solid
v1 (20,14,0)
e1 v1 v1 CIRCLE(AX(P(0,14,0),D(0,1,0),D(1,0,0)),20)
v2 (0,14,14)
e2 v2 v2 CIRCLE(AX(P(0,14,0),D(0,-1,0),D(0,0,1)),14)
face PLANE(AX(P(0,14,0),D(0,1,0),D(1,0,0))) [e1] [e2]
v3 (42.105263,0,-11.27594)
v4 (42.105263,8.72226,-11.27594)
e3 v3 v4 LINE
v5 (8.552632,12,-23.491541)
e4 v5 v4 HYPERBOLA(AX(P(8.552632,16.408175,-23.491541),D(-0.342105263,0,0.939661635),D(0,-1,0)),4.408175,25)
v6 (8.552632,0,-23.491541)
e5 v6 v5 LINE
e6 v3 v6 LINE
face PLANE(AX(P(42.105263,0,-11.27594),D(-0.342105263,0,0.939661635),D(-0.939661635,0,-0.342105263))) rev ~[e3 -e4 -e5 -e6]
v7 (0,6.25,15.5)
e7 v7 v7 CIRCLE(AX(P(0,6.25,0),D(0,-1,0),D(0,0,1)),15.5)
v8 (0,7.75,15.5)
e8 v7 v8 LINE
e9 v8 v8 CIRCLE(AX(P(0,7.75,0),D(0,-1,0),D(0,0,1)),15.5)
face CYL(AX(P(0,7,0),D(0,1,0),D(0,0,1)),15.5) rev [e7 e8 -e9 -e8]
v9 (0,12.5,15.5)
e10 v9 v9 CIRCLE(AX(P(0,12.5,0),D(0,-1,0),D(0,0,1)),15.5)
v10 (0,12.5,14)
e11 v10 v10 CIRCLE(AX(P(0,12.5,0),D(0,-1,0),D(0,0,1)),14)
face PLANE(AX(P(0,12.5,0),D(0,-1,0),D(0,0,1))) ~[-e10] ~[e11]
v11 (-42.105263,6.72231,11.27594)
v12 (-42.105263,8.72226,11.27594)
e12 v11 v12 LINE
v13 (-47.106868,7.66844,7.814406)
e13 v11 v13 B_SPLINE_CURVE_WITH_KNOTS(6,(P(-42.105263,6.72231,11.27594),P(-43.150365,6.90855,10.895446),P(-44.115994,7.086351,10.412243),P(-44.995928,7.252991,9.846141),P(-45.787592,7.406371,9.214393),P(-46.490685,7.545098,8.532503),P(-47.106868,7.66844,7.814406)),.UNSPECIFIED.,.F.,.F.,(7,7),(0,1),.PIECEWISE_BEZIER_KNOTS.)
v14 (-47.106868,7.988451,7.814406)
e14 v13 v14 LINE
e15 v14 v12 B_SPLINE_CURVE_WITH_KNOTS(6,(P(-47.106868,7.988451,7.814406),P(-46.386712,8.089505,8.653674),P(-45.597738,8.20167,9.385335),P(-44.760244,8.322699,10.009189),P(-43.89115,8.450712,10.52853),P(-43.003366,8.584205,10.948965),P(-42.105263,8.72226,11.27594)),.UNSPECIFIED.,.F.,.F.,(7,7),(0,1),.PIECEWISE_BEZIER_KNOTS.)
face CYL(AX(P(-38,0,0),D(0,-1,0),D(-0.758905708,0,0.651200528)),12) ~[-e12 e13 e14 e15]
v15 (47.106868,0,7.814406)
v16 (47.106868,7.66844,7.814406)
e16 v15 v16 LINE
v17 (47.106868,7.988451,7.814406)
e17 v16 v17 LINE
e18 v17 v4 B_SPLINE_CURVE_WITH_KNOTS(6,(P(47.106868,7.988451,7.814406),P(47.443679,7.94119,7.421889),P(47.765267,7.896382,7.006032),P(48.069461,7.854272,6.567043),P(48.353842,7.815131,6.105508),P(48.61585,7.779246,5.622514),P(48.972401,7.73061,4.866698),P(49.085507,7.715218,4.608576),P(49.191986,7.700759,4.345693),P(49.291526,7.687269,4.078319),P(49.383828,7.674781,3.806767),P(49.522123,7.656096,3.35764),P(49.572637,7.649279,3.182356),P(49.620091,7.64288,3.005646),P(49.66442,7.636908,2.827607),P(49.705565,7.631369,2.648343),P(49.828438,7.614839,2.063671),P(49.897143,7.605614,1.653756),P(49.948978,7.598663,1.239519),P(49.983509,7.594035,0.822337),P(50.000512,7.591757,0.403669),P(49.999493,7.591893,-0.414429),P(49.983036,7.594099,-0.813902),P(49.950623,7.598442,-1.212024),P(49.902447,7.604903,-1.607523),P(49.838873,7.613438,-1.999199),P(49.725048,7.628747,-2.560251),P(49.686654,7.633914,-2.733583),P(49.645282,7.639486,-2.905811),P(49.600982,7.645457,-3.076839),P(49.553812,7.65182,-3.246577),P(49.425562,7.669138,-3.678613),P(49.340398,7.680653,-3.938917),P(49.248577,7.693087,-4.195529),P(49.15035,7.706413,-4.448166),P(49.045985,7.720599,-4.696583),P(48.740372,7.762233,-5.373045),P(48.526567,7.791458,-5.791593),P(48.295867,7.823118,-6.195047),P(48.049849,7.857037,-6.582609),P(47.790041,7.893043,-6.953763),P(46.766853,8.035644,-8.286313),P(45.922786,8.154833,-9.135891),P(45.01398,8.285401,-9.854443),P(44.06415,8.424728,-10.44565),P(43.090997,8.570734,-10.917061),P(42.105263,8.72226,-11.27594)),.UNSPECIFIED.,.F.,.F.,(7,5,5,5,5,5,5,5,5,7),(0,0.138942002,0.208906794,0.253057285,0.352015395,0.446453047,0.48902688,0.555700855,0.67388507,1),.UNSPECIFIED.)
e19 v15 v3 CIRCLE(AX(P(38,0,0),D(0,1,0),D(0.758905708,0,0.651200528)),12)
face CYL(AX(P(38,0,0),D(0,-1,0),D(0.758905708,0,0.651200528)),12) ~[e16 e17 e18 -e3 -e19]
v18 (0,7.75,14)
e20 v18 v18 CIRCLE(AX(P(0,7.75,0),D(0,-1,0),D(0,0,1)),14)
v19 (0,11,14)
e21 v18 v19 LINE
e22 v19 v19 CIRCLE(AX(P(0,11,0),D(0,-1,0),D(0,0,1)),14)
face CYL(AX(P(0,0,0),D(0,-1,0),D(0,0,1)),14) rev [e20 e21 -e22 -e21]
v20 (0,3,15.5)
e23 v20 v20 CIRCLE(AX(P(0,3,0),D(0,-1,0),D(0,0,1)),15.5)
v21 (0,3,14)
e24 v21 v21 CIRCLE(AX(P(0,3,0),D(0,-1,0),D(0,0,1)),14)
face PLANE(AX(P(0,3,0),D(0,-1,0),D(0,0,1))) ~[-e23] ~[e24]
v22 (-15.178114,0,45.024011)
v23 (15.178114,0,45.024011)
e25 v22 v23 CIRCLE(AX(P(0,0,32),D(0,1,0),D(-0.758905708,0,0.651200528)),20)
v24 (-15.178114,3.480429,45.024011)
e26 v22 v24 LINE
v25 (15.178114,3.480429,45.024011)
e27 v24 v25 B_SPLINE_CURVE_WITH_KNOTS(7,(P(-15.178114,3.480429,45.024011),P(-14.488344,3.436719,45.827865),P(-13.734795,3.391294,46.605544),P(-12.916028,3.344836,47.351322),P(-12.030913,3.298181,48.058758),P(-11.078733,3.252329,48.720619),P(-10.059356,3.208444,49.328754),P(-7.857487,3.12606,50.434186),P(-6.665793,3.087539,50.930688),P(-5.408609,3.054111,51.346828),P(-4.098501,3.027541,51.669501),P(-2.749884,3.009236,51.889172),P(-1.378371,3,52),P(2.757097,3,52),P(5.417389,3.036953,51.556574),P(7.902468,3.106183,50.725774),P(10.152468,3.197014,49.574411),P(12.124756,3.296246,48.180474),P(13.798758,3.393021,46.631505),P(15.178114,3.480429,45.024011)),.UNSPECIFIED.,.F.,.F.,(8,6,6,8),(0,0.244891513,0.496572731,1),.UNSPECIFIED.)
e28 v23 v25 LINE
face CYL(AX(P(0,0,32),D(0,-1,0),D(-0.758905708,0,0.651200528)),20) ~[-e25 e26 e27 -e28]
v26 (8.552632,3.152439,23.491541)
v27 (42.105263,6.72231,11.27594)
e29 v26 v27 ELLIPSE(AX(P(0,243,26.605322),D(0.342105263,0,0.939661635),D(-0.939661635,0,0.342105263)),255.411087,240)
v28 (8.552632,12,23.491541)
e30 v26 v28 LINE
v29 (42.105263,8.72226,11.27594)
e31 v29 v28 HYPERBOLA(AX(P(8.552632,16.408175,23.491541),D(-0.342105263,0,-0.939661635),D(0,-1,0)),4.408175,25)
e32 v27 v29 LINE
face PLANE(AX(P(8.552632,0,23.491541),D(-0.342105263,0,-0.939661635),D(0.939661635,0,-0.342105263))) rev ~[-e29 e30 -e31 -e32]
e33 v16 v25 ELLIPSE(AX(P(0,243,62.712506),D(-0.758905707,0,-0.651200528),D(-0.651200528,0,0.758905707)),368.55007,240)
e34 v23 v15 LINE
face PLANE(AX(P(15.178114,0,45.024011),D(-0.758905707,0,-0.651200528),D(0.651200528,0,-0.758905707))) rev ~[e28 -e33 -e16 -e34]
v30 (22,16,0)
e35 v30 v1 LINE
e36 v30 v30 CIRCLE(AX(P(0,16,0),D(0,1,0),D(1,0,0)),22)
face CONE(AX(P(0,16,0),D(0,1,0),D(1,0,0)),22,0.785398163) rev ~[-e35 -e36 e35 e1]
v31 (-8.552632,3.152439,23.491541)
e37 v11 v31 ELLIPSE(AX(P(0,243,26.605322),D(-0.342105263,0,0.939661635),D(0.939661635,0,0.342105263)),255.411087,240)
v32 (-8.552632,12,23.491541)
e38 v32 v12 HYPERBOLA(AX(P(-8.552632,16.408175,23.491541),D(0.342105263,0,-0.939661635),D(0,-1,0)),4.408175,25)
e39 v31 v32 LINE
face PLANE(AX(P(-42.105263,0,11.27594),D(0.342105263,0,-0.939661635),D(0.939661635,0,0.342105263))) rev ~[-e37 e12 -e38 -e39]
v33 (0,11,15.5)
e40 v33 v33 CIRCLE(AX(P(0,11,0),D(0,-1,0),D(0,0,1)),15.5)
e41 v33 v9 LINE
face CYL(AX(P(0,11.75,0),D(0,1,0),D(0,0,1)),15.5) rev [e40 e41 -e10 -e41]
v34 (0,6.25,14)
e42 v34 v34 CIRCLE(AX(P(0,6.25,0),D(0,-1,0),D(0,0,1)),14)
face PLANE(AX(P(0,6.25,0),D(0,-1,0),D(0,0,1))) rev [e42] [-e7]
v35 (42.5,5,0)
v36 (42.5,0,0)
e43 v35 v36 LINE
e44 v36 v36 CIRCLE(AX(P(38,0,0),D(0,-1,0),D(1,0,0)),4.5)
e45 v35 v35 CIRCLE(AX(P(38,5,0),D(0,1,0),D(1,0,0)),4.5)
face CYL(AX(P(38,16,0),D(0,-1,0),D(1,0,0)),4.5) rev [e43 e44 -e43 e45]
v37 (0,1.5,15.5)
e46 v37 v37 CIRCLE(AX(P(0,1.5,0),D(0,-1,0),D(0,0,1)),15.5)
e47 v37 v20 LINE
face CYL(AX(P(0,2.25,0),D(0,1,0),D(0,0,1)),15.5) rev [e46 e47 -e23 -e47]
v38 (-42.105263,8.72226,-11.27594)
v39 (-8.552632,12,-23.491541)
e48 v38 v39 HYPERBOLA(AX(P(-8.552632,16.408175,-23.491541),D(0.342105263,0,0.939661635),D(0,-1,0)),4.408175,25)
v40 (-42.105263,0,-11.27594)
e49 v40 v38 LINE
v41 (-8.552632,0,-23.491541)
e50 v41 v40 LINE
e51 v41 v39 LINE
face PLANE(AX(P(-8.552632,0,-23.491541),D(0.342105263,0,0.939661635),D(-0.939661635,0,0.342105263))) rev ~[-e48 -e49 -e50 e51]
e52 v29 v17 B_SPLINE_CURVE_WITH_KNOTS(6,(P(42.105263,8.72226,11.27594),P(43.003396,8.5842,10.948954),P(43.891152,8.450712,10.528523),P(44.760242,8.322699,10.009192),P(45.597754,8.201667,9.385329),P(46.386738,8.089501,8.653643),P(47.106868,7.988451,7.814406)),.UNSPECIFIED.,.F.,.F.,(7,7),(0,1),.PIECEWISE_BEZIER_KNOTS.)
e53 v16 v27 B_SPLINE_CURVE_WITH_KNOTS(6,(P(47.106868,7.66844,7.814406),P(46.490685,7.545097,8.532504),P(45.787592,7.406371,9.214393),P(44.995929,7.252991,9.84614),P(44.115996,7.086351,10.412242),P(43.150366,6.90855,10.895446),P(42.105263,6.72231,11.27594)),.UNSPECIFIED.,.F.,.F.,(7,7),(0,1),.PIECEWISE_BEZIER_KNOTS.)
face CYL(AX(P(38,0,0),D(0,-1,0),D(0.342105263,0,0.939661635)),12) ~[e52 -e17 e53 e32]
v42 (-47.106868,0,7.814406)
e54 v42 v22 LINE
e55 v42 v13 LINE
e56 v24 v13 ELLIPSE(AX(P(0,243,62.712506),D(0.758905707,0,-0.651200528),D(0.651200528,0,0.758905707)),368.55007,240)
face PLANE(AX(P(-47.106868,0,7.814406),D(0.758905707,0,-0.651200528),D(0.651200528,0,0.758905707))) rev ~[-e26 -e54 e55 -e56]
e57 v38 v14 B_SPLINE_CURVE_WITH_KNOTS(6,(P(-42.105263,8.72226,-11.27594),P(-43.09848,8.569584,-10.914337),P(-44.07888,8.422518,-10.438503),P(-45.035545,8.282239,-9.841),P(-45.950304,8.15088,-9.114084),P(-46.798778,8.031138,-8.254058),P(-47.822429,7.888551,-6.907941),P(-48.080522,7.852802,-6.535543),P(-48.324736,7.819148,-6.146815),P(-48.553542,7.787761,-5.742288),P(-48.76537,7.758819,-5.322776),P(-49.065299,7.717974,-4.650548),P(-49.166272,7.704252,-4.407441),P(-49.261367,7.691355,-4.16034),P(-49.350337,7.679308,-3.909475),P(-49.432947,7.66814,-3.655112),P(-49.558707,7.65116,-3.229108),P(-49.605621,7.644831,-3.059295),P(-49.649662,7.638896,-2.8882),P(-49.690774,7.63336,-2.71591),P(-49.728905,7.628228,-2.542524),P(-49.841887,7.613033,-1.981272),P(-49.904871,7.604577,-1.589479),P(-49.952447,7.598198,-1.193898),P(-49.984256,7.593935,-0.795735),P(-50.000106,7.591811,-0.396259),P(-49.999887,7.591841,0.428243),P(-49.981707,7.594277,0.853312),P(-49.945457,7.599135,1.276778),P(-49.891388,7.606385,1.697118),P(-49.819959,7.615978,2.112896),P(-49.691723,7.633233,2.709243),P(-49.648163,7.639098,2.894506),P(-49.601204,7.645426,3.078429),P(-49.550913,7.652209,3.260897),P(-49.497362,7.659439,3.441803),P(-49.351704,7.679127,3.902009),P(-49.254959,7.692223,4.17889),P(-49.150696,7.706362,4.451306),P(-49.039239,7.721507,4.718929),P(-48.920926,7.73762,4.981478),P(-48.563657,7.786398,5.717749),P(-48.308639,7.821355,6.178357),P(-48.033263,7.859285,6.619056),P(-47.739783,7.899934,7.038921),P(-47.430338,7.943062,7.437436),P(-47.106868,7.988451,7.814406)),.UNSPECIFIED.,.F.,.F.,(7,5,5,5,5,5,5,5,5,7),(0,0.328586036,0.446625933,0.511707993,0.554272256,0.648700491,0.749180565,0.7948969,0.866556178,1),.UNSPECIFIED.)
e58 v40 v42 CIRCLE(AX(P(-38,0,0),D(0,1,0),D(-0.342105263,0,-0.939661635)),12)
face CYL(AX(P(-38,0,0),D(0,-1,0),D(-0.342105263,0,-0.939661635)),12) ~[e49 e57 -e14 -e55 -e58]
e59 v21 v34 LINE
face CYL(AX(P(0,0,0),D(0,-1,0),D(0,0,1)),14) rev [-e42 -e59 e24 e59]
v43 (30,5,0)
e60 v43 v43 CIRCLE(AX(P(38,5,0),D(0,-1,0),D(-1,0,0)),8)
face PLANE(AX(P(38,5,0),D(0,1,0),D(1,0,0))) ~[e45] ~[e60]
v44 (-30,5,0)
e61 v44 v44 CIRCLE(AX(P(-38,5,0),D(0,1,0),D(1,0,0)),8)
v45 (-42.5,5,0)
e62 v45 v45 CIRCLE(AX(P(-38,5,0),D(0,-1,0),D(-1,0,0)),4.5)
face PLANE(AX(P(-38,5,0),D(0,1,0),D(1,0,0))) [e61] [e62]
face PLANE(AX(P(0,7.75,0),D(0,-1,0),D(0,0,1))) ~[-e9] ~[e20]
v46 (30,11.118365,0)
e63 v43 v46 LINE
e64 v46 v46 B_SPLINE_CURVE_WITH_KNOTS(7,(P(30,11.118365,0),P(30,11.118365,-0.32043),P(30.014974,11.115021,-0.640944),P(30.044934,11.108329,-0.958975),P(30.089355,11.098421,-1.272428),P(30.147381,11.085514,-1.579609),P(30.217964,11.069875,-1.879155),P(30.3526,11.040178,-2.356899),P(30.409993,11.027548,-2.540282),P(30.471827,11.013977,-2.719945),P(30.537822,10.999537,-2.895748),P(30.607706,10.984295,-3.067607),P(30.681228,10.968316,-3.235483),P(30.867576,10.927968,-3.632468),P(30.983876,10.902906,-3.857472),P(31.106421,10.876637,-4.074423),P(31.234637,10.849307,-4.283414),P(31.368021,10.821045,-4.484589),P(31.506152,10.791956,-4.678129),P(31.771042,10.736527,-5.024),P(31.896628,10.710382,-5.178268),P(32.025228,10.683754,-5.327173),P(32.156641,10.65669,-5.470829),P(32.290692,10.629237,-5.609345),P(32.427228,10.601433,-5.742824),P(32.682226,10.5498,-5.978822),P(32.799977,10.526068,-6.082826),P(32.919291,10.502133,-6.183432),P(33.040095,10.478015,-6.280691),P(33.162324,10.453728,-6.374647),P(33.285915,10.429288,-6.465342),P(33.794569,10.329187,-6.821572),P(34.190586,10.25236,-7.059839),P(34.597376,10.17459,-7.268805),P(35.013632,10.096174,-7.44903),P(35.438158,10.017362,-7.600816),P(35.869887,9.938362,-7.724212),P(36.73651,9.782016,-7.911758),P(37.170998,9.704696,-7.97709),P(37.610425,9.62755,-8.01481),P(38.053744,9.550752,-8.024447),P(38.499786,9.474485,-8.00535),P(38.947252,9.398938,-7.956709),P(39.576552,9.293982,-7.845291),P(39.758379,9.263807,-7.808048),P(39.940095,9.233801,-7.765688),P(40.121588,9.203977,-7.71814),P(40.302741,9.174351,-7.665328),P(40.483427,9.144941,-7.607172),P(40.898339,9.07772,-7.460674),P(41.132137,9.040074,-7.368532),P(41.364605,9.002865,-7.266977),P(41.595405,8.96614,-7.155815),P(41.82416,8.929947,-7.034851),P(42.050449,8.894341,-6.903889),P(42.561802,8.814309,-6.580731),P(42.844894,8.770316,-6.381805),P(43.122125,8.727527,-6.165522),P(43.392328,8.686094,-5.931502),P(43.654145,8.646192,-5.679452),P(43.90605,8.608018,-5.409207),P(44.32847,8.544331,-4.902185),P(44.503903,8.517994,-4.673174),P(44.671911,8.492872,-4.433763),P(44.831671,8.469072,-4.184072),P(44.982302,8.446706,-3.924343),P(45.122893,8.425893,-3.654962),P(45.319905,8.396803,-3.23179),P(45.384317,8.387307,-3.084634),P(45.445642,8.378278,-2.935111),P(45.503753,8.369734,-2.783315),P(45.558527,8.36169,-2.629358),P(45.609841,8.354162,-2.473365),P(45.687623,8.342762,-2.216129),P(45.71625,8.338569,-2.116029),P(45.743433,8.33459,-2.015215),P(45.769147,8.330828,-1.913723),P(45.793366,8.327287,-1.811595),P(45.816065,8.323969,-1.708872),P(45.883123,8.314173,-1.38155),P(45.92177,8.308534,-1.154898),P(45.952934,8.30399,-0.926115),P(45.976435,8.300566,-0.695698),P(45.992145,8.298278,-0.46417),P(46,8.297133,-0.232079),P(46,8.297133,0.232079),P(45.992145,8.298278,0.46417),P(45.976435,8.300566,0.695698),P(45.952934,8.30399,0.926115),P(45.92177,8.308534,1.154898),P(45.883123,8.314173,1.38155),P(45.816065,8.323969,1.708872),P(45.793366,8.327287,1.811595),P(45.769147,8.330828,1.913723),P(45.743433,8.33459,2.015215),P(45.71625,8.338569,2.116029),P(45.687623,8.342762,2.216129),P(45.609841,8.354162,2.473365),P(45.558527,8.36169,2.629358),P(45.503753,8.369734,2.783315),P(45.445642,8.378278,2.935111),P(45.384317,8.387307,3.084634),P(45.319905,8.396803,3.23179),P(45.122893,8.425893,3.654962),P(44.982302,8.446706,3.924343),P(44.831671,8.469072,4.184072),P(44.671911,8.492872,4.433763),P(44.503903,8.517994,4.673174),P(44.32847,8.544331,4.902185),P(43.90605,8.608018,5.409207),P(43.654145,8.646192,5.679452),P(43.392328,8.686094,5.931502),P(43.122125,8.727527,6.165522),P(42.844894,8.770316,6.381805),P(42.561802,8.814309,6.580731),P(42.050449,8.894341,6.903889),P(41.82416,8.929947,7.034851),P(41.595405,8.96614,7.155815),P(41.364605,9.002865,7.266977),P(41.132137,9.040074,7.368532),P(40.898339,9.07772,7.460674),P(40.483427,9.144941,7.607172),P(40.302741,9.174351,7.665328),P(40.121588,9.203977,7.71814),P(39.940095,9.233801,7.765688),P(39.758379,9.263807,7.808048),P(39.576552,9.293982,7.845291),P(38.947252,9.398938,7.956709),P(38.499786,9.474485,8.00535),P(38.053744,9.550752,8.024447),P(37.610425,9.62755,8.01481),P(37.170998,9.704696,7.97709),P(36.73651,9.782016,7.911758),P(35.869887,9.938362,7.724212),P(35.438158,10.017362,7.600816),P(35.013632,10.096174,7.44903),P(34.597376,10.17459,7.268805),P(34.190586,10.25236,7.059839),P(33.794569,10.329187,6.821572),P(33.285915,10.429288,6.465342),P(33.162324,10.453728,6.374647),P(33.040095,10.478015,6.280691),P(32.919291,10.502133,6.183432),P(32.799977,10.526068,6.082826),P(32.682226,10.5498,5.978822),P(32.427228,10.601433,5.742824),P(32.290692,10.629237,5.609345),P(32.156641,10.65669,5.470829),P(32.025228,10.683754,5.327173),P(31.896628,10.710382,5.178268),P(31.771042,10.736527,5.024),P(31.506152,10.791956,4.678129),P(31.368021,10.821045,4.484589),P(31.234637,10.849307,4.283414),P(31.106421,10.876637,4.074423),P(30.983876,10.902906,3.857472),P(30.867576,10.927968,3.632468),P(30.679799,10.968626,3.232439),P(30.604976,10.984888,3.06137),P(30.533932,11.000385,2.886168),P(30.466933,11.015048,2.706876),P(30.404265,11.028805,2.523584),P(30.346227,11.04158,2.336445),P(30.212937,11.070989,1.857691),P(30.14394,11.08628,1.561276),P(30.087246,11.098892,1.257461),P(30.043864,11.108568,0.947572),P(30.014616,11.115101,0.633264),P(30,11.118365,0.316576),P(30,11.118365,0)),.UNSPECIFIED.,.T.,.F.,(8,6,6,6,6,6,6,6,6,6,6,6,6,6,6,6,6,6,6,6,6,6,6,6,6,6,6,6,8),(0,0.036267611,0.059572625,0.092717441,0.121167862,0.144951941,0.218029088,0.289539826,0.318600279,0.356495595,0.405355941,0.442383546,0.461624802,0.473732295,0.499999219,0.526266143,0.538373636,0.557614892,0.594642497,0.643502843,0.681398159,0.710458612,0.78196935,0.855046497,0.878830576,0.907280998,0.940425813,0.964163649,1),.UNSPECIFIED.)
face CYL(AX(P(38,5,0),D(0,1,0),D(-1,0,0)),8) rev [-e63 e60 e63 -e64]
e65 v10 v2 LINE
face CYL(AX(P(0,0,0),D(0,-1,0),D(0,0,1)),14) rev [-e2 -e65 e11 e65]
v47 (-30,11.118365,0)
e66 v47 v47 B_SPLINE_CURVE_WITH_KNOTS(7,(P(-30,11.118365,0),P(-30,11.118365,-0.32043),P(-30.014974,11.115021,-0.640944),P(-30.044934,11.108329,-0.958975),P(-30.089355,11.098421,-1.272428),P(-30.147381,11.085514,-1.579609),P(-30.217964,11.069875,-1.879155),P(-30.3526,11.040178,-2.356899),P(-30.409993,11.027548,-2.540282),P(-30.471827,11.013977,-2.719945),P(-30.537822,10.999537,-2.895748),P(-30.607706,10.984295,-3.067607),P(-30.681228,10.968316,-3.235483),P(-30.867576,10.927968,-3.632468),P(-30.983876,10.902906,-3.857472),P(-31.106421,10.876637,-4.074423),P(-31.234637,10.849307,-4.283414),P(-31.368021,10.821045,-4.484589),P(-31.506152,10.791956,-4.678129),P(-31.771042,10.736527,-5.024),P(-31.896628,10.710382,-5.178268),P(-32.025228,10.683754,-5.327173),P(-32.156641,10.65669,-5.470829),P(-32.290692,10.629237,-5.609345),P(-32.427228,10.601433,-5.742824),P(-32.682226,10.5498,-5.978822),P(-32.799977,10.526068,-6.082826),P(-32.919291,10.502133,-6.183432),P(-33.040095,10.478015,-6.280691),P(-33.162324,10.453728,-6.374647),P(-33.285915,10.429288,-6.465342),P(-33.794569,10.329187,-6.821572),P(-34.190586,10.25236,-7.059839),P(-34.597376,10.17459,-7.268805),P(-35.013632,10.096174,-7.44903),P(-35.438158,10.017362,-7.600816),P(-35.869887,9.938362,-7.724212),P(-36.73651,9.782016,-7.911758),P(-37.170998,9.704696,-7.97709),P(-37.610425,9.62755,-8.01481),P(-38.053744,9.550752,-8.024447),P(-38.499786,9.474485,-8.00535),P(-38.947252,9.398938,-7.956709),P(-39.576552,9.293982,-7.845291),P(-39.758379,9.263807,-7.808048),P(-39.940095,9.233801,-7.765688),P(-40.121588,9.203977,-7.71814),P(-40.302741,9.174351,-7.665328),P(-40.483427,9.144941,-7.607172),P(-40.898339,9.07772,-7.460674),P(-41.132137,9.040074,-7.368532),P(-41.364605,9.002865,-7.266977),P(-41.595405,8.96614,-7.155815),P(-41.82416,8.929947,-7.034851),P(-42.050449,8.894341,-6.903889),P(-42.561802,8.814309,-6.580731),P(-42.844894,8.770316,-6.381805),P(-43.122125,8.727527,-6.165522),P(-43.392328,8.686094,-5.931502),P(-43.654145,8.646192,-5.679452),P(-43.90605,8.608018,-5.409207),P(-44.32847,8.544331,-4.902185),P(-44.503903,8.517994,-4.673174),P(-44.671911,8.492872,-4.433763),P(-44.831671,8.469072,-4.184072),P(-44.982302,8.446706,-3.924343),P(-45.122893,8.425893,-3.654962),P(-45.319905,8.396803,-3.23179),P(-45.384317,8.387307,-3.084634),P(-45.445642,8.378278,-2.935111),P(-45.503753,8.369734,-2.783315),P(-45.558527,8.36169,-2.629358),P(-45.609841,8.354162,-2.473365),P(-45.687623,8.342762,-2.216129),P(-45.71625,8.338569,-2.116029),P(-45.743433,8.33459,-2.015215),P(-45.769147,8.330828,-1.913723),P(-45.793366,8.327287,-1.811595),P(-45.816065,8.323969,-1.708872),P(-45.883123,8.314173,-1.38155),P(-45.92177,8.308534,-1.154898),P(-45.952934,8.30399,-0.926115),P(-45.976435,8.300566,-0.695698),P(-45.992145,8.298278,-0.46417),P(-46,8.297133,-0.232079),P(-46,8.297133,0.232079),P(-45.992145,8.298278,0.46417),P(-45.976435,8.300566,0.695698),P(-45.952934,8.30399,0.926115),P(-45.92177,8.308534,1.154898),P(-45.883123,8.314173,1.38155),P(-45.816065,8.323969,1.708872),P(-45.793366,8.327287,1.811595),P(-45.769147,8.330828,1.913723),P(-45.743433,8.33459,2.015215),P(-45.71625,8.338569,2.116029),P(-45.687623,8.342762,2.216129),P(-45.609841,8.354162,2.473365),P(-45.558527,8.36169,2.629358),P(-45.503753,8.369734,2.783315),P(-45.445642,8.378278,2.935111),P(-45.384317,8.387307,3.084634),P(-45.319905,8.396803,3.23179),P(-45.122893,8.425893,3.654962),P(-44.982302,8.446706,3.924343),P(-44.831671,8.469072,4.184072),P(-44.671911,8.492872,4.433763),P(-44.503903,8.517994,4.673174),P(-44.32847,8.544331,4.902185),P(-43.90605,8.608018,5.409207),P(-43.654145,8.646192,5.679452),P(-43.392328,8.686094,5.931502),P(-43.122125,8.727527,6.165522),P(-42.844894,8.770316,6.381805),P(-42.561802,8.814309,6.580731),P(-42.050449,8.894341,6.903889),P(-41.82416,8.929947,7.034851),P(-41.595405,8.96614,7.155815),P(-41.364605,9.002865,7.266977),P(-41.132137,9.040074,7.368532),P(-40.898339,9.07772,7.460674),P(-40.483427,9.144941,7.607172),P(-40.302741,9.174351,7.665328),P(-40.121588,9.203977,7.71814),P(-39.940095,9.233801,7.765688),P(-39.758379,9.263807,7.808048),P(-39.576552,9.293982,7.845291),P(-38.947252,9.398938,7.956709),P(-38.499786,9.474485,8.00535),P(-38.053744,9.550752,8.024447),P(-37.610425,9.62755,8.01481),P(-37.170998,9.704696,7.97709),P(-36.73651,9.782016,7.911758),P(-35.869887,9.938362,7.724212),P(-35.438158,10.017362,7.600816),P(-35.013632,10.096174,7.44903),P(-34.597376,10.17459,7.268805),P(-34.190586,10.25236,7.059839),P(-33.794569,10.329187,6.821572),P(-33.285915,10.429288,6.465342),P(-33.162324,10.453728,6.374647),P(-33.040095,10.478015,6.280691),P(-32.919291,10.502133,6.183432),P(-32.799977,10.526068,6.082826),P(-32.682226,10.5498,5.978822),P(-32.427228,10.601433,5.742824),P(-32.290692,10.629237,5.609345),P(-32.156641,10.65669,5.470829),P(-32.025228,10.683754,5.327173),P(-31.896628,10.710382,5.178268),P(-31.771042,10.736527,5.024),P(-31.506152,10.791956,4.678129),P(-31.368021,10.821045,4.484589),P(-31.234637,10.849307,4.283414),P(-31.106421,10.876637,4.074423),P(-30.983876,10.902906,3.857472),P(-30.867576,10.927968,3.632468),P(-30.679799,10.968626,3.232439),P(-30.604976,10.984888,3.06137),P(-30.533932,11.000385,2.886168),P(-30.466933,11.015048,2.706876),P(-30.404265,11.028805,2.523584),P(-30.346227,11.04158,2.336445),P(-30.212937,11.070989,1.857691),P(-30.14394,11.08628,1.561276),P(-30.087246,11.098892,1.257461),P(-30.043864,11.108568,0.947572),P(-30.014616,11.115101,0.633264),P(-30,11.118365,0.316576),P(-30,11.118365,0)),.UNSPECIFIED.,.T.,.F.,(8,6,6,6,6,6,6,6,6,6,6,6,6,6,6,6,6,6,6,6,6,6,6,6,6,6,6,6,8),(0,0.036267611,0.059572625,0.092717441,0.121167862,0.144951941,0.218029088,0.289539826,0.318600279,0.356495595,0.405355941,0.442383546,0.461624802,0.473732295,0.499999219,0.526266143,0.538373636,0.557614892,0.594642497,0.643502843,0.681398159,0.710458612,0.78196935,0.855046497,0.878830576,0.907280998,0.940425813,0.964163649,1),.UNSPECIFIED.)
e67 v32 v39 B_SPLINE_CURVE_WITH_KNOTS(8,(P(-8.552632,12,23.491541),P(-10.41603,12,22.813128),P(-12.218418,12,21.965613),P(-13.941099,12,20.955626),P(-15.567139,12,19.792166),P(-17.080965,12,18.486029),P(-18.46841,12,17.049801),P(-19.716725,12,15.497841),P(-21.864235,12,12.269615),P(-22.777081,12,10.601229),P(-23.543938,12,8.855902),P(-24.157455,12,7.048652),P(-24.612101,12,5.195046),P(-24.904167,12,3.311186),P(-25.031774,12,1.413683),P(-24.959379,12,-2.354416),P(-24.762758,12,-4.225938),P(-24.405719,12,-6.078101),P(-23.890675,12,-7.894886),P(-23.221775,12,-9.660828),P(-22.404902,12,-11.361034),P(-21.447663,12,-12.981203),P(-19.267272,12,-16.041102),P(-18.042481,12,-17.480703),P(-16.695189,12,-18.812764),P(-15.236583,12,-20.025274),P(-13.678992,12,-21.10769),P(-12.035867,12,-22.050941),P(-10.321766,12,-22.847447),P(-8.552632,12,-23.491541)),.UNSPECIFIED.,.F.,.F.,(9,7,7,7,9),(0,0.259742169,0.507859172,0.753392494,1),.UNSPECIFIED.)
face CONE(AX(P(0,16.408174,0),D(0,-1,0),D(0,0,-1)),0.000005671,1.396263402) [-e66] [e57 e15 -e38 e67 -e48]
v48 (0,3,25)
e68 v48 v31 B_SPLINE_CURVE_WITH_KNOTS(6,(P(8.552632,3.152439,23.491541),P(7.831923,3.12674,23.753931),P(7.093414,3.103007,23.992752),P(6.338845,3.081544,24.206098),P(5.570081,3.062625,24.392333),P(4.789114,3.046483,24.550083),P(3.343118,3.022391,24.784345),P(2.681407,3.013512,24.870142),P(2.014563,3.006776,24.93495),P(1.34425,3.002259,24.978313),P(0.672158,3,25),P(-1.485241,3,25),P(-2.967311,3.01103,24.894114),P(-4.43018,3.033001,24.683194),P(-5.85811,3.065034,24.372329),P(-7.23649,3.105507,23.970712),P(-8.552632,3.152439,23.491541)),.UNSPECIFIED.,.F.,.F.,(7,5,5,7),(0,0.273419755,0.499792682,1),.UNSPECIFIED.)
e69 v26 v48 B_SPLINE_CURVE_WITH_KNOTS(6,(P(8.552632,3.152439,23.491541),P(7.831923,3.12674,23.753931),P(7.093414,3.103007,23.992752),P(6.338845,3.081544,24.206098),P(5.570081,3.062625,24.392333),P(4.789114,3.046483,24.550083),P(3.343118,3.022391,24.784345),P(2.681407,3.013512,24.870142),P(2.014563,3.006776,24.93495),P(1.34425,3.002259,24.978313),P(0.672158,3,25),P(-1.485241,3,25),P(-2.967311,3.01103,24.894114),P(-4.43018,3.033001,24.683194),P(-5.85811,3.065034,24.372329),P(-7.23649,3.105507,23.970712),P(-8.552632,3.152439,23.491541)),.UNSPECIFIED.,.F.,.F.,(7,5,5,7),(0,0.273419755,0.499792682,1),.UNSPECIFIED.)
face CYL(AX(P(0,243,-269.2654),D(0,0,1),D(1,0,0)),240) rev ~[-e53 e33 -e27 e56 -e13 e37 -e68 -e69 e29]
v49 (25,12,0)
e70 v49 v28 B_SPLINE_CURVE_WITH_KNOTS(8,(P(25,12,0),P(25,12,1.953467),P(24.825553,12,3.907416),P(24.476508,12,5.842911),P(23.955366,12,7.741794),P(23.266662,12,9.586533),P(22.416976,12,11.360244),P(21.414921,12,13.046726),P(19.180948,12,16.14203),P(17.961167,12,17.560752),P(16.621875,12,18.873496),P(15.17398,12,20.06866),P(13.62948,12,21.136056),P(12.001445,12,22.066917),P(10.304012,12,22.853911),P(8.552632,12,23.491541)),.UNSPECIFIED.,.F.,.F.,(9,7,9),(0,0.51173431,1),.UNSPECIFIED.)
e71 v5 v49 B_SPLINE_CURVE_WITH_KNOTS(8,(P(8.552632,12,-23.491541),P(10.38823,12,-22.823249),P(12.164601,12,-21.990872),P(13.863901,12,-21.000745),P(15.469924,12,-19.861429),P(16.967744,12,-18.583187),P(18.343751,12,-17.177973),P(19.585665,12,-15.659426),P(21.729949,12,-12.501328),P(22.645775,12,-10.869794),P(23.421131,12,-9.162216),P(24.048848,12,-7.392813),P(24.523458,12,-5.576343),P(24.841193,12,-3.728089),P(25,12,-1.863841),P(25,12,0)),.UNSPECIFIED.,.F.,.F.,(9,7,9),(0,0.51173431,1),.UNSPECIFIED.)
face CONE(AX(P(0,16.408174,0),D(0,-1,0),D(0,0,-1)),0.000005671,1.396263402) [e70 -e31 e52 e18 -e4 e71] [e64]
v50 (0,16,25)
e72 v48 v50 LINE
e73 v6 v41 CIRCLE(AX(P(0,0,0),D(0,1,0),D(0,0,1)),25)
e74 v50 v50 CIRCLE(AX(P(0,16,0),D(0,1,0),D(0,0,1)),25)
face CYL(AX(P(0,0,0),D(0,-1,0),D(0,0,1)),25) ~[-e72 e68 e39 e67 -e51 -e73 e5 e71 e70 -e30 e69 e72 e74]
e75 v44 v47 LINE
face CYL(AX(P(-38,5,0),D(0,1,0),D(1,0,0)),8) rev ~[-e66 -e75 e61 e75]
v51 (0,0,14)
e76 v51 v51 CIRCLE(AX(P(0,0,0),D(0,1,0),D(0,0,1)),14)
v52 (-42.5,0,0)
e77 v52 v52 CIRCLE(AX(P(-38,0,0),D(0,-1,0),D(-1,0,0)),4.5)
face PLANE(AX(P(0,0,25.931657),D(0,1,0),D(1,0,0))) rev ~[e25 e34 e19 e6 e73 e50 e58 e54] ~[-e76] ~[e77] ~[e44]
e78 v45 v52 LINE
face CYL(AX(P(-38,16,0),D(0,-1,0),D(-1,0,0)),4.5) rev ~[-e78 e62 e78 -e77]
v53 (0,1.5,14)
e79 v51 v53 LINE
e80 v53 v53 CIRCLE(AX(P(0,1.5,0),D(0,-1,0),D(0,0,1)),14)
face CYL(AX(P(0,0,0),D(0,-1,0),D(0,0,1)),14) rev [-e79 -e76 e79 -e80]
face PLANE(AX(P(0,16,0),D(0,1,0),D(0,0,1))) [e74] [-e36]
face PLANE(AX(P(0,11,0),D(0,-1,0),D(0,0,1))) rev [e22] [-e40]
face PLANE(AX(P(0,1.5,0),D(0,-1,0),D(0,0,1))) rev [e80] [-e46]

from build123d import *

# Parameters (mm, degrees)
SKETCH_1_R                   = 25
SKETCH_1_R_2                 = 14
EXTRUDE_1_DEPTH              = 16
EXTRUDE_3_REACH              = 40.807
EXTRUDE_4_REACH              = 60.146
EXTRUDE_4_END_RADIUS         = 240
HOLE_WIZARD_M8_1_D           = 9
HOLE_WIZARD_M8_1_CBORE_D     = 16
HOLE_WIZARD_M8_1_CBORE_DEPTH = 11
CUT_EXTRUDE_START            = 16
SKETCH_15_R                  = 22
CUT_EXTRUDE_1_DEPTH          = 2
CUT_EXTRUDE_1_DRAFT          = -45
SKETCH_16_W                  = 1.5
SKETCH_16_H                  = 1.5
PATTERN_LINEAR_1_COUNT       = 3
PATTERN_LINEAR_1_PITCH       = 4.75


with BuildPart() as part:
    # 草图1 → 凸台-拉伸1 (new body)
    with BuildSketch(Plane(origin=(0, 0, 0), x_dir=(1, 0, 0), z_dir=(0, 1, 0))):
        with Locations(Location((0, 0, 0), (0, 0, 270))):
            Circle(SKETCH_1_R)
        with Locations(Location((0, 0, 0), (0, 0, 270))):
            Circle(SKETCH_1_R_2, mode=Mode.SUBTRACT)
    extrude(amount=EXTRUDE_1_DEPTH)

    # 凸台-拉伸3: up to this cone (the profile starts inside it)
    extrude_3_end = Plane(origin=(0, 0, 0), z_dir=(0, -1, 0)).offset(-16.408173518) * Cone(5.671e-06, 855.062315179, 150.770555353, align=(Align.CENTER, Align.CENTER, Align.MIN), mode=Mode.PRIVATE)
    # 草图1<4> → 凸台-拉伸3 (add, up to the surface)
    with BuildSketch(Plane(origin=(0, 0, 0), x_dir=(1, 0, 0), z_dir=(0, 1, 0)), mode=Mode.PRIVATE) as extrude_3_sk1:
        with BuildLine():
            Line((42.105263158, 11.275939624), (8.552631579, 23.491540883))
            ThreePointArc((8.552631579, 23.491540883), (20.479450548, 14.338483367), (25, 0))
            ThreePointArc((25, 0), (20.479450548, -14.338483367), (8.552631579, -23.491540883))
            Line((8.552631579, -23.491540883), (42.105263158, -11.275939624))
            ThreePointArc((42.105263158, -11.275939624), (44.829030594, -9.867337085), (47.10686849, -7.814406331))
            ThreePointArc((47.10686849, -7.814406331), (49.60820541, 3.041310105), (42.105263158, 11.275939624))
        make_face()
    extrude_3_tool1 = extrude(extrude_3_sk1.sketch, amount=EXTRUDE_3_REACH, mode=Mode.PRIVATE) & extrude_3_end
    add(extrude_3_tool1.solids().sort_by_distance((33.391095, 0, 0))[0])
    # 草图1<4> → 凸台-拉伸3 (add, up to the surface)
    with BuildSketch(Plane(origin=(0, 0, 0), x_dir=(1, 0, 0), z_dir=(0, 1, 0)), mode=Mode.PRIVATE) as extrude_3_sk2:
        with BuildLine():
            Line((-8.552631579, 23.491540883), (-42.105263158, 11.275939624))
            ThreePointArc((-42.105263158, 11.275939624), (-49.60820541, 3.041310105), (-47.10686849, -7.814406331))
            ThreePointArc((-47.10686849, -7.814406331), (-44.829030594, -9.867337085), (-42.105263158, -11.275939624))
            Line((-42.105263158, -11.275939624), (-8.552631579, -23.491540883))
            ThreePointArc((-8.552631579, -23.491540883), (-25, 0), (-8.552631579, 23.491540883))
        make_face()
    extrude_3_tool2 = extrude(extrude_3_sk2.sketch, amount=EXTRUDE_3_REACH, mode=Mode.PRIVATE) & extrude_3_end
    add(extrude_3_tool2.solids().sort_by_distance((-33.391095, 0, 0))[0])

    # 凸台-拉伸4: up to this cylinder (the profile starts outside it)
    extrude_4_end = Plane(origin=(0, 243, 31.3806), z_dir=(0, 0, 1)) * Cylinder(EXTRUDE_4_END_RADIUS, 601.292, mode=Mode.PRIVATE)
    # 草图1<7> → 凸台-拉伸4 (add, up to the surface)
    with BuildSketch(Plane(origin=(0, 0, 0), x_dir=(1, 0, 0), z_dir=(0, 1, 0)), mode=Mode.PRIVATE) as extrude_4_sk1:
        with BuildLine():
            ThreePointArc((-42.105263158, -11.275939624), (-44.829030594, -9.867337085), (-47.10686849, -7.814406331))
            Line((-47.10686849, -7.814406331), (-15.178114149, -45.024010552))
            ThreePointArc((-15.178114149, -45.024010552), (0, -52), (15.178114149, -45.024010552))
            Line((15.178114149, -45.024010552), (47.10686849, -7.814406331))
            ThreePointArc((47.10686849, -7.814406331), (44.829030594, -9.867337085), (42.105263158, -11.275939624))
            Line((42.105263158, -11.275939624), (8.552631579, -23.491540883))
            ThreePointArc((8.552631579, -23.491540883), (0, -25), (-8.552631579, -23.491540883))
            Line((-8.552631579, -23.491540883), (-42.105263158, -11.275939624))
        make_face()
    extrude_4_tool1 = extrude(extrude_4_sk1.sketch, amount=EXTRUDE_4_REACH, mode=Mode.PRIVATE) - extrude_4_end
    add(extrude_4_tool1.solids().sort_by_distance((0, 0, 31.3806))[0])

    # M8 六角头螺栓的柱形沉头孔1 (through all)
    with Locations(Plane(origin=(0, 16, 0), x_dir=(1, 0, 0), z_dir=(0, 1, 0))):
        with Locations((-38, 0)):
            hole_wizard_m8_1 = CounterBoreHole(HOLE_WIZARD_M8_1_D / 2, HOLE_WIZARD_M8_1_CBORE_D / 2, HOLE_WIZARD_M8_1_CBORE_DEPTH)

    # 镜向1: M8 六角头螺栓的柱形沉头孔1 across plane
    add(hole_wizard_m8_1.mirror(Plane(origin=(0, 0, 0), x_dir=(0, 0, 1), z_dir=(1, 0, 0))), mode=Mode.SUBTRACT)


with BuildPart() as cut_extrude_1_tool:
    # 草图15 → 切除-拉伸1 (with draft: the straight prism first)
    with BuildSketch(Plane(origin=(0, 0, 0), x_dir=(1, 0, 0), z_dir=(0, 1, 0)).offset(CUT_EXTRUDE_START)):
        Circle(SKETCH_15_R)
    extrude(amount=-CUT_EXTRUDE_1_DEPTH)
    # 切除-拉伸1: the draft: its side faces are tilted about the plane it starts from
    cut_extrude_1_sides = [cut_extrude_1_tool.faces().sort_by_distance(p)[0] for p in [
        (-22, 15, 0),
    ]]
    draft(cut_extrude_1_sides, Plane(origin=(0, 0, 0), x_dir=(1, 0, 0), z_dir=(0, 1, 0)).offset(CUT_EXTRUDE_START), CUT_EXTRUDE_1_DRAFT)


with BuildPart() as part_1:
    add(part.part)

    # 切除-拉伸1: cut by cut_extrude_1_tool
    add(cut_extrude_1_tool.part, mode=Mode.SUBTRACT)

    # 草图16 → 切除-旋转5 (revolve, cut)
    with BuildSketch(Plane.XY, mode=Mode.PRIVATE) as cut_revolve_5_sk:
        with Locations((14.75, 11.75)):
            Rectangle(SKETCH_16_W, SKETCH_16_H)
    cut_revolve_5 = revolve(cut_revolve_5_sk.sketch.rotate(Axis((0, 21.806549083, 0), (0, -1, 0)), 90), axis=Axis((0, 21.806549083, 0), (0, -1, 0)), mode=Mode.SUBTRACT)

    # 阵列(线性)1: 切除-旋转5 ×3
    with Locations(*[(0, -i * PATTERN_LINEAR_1_PITCH, 0) for i in range(1, PATTERN_LINEAR_1_COUNT)]):
        add(cut_revolve_5, mode=Mode.SUBTRACT)


solid = part_1.part
